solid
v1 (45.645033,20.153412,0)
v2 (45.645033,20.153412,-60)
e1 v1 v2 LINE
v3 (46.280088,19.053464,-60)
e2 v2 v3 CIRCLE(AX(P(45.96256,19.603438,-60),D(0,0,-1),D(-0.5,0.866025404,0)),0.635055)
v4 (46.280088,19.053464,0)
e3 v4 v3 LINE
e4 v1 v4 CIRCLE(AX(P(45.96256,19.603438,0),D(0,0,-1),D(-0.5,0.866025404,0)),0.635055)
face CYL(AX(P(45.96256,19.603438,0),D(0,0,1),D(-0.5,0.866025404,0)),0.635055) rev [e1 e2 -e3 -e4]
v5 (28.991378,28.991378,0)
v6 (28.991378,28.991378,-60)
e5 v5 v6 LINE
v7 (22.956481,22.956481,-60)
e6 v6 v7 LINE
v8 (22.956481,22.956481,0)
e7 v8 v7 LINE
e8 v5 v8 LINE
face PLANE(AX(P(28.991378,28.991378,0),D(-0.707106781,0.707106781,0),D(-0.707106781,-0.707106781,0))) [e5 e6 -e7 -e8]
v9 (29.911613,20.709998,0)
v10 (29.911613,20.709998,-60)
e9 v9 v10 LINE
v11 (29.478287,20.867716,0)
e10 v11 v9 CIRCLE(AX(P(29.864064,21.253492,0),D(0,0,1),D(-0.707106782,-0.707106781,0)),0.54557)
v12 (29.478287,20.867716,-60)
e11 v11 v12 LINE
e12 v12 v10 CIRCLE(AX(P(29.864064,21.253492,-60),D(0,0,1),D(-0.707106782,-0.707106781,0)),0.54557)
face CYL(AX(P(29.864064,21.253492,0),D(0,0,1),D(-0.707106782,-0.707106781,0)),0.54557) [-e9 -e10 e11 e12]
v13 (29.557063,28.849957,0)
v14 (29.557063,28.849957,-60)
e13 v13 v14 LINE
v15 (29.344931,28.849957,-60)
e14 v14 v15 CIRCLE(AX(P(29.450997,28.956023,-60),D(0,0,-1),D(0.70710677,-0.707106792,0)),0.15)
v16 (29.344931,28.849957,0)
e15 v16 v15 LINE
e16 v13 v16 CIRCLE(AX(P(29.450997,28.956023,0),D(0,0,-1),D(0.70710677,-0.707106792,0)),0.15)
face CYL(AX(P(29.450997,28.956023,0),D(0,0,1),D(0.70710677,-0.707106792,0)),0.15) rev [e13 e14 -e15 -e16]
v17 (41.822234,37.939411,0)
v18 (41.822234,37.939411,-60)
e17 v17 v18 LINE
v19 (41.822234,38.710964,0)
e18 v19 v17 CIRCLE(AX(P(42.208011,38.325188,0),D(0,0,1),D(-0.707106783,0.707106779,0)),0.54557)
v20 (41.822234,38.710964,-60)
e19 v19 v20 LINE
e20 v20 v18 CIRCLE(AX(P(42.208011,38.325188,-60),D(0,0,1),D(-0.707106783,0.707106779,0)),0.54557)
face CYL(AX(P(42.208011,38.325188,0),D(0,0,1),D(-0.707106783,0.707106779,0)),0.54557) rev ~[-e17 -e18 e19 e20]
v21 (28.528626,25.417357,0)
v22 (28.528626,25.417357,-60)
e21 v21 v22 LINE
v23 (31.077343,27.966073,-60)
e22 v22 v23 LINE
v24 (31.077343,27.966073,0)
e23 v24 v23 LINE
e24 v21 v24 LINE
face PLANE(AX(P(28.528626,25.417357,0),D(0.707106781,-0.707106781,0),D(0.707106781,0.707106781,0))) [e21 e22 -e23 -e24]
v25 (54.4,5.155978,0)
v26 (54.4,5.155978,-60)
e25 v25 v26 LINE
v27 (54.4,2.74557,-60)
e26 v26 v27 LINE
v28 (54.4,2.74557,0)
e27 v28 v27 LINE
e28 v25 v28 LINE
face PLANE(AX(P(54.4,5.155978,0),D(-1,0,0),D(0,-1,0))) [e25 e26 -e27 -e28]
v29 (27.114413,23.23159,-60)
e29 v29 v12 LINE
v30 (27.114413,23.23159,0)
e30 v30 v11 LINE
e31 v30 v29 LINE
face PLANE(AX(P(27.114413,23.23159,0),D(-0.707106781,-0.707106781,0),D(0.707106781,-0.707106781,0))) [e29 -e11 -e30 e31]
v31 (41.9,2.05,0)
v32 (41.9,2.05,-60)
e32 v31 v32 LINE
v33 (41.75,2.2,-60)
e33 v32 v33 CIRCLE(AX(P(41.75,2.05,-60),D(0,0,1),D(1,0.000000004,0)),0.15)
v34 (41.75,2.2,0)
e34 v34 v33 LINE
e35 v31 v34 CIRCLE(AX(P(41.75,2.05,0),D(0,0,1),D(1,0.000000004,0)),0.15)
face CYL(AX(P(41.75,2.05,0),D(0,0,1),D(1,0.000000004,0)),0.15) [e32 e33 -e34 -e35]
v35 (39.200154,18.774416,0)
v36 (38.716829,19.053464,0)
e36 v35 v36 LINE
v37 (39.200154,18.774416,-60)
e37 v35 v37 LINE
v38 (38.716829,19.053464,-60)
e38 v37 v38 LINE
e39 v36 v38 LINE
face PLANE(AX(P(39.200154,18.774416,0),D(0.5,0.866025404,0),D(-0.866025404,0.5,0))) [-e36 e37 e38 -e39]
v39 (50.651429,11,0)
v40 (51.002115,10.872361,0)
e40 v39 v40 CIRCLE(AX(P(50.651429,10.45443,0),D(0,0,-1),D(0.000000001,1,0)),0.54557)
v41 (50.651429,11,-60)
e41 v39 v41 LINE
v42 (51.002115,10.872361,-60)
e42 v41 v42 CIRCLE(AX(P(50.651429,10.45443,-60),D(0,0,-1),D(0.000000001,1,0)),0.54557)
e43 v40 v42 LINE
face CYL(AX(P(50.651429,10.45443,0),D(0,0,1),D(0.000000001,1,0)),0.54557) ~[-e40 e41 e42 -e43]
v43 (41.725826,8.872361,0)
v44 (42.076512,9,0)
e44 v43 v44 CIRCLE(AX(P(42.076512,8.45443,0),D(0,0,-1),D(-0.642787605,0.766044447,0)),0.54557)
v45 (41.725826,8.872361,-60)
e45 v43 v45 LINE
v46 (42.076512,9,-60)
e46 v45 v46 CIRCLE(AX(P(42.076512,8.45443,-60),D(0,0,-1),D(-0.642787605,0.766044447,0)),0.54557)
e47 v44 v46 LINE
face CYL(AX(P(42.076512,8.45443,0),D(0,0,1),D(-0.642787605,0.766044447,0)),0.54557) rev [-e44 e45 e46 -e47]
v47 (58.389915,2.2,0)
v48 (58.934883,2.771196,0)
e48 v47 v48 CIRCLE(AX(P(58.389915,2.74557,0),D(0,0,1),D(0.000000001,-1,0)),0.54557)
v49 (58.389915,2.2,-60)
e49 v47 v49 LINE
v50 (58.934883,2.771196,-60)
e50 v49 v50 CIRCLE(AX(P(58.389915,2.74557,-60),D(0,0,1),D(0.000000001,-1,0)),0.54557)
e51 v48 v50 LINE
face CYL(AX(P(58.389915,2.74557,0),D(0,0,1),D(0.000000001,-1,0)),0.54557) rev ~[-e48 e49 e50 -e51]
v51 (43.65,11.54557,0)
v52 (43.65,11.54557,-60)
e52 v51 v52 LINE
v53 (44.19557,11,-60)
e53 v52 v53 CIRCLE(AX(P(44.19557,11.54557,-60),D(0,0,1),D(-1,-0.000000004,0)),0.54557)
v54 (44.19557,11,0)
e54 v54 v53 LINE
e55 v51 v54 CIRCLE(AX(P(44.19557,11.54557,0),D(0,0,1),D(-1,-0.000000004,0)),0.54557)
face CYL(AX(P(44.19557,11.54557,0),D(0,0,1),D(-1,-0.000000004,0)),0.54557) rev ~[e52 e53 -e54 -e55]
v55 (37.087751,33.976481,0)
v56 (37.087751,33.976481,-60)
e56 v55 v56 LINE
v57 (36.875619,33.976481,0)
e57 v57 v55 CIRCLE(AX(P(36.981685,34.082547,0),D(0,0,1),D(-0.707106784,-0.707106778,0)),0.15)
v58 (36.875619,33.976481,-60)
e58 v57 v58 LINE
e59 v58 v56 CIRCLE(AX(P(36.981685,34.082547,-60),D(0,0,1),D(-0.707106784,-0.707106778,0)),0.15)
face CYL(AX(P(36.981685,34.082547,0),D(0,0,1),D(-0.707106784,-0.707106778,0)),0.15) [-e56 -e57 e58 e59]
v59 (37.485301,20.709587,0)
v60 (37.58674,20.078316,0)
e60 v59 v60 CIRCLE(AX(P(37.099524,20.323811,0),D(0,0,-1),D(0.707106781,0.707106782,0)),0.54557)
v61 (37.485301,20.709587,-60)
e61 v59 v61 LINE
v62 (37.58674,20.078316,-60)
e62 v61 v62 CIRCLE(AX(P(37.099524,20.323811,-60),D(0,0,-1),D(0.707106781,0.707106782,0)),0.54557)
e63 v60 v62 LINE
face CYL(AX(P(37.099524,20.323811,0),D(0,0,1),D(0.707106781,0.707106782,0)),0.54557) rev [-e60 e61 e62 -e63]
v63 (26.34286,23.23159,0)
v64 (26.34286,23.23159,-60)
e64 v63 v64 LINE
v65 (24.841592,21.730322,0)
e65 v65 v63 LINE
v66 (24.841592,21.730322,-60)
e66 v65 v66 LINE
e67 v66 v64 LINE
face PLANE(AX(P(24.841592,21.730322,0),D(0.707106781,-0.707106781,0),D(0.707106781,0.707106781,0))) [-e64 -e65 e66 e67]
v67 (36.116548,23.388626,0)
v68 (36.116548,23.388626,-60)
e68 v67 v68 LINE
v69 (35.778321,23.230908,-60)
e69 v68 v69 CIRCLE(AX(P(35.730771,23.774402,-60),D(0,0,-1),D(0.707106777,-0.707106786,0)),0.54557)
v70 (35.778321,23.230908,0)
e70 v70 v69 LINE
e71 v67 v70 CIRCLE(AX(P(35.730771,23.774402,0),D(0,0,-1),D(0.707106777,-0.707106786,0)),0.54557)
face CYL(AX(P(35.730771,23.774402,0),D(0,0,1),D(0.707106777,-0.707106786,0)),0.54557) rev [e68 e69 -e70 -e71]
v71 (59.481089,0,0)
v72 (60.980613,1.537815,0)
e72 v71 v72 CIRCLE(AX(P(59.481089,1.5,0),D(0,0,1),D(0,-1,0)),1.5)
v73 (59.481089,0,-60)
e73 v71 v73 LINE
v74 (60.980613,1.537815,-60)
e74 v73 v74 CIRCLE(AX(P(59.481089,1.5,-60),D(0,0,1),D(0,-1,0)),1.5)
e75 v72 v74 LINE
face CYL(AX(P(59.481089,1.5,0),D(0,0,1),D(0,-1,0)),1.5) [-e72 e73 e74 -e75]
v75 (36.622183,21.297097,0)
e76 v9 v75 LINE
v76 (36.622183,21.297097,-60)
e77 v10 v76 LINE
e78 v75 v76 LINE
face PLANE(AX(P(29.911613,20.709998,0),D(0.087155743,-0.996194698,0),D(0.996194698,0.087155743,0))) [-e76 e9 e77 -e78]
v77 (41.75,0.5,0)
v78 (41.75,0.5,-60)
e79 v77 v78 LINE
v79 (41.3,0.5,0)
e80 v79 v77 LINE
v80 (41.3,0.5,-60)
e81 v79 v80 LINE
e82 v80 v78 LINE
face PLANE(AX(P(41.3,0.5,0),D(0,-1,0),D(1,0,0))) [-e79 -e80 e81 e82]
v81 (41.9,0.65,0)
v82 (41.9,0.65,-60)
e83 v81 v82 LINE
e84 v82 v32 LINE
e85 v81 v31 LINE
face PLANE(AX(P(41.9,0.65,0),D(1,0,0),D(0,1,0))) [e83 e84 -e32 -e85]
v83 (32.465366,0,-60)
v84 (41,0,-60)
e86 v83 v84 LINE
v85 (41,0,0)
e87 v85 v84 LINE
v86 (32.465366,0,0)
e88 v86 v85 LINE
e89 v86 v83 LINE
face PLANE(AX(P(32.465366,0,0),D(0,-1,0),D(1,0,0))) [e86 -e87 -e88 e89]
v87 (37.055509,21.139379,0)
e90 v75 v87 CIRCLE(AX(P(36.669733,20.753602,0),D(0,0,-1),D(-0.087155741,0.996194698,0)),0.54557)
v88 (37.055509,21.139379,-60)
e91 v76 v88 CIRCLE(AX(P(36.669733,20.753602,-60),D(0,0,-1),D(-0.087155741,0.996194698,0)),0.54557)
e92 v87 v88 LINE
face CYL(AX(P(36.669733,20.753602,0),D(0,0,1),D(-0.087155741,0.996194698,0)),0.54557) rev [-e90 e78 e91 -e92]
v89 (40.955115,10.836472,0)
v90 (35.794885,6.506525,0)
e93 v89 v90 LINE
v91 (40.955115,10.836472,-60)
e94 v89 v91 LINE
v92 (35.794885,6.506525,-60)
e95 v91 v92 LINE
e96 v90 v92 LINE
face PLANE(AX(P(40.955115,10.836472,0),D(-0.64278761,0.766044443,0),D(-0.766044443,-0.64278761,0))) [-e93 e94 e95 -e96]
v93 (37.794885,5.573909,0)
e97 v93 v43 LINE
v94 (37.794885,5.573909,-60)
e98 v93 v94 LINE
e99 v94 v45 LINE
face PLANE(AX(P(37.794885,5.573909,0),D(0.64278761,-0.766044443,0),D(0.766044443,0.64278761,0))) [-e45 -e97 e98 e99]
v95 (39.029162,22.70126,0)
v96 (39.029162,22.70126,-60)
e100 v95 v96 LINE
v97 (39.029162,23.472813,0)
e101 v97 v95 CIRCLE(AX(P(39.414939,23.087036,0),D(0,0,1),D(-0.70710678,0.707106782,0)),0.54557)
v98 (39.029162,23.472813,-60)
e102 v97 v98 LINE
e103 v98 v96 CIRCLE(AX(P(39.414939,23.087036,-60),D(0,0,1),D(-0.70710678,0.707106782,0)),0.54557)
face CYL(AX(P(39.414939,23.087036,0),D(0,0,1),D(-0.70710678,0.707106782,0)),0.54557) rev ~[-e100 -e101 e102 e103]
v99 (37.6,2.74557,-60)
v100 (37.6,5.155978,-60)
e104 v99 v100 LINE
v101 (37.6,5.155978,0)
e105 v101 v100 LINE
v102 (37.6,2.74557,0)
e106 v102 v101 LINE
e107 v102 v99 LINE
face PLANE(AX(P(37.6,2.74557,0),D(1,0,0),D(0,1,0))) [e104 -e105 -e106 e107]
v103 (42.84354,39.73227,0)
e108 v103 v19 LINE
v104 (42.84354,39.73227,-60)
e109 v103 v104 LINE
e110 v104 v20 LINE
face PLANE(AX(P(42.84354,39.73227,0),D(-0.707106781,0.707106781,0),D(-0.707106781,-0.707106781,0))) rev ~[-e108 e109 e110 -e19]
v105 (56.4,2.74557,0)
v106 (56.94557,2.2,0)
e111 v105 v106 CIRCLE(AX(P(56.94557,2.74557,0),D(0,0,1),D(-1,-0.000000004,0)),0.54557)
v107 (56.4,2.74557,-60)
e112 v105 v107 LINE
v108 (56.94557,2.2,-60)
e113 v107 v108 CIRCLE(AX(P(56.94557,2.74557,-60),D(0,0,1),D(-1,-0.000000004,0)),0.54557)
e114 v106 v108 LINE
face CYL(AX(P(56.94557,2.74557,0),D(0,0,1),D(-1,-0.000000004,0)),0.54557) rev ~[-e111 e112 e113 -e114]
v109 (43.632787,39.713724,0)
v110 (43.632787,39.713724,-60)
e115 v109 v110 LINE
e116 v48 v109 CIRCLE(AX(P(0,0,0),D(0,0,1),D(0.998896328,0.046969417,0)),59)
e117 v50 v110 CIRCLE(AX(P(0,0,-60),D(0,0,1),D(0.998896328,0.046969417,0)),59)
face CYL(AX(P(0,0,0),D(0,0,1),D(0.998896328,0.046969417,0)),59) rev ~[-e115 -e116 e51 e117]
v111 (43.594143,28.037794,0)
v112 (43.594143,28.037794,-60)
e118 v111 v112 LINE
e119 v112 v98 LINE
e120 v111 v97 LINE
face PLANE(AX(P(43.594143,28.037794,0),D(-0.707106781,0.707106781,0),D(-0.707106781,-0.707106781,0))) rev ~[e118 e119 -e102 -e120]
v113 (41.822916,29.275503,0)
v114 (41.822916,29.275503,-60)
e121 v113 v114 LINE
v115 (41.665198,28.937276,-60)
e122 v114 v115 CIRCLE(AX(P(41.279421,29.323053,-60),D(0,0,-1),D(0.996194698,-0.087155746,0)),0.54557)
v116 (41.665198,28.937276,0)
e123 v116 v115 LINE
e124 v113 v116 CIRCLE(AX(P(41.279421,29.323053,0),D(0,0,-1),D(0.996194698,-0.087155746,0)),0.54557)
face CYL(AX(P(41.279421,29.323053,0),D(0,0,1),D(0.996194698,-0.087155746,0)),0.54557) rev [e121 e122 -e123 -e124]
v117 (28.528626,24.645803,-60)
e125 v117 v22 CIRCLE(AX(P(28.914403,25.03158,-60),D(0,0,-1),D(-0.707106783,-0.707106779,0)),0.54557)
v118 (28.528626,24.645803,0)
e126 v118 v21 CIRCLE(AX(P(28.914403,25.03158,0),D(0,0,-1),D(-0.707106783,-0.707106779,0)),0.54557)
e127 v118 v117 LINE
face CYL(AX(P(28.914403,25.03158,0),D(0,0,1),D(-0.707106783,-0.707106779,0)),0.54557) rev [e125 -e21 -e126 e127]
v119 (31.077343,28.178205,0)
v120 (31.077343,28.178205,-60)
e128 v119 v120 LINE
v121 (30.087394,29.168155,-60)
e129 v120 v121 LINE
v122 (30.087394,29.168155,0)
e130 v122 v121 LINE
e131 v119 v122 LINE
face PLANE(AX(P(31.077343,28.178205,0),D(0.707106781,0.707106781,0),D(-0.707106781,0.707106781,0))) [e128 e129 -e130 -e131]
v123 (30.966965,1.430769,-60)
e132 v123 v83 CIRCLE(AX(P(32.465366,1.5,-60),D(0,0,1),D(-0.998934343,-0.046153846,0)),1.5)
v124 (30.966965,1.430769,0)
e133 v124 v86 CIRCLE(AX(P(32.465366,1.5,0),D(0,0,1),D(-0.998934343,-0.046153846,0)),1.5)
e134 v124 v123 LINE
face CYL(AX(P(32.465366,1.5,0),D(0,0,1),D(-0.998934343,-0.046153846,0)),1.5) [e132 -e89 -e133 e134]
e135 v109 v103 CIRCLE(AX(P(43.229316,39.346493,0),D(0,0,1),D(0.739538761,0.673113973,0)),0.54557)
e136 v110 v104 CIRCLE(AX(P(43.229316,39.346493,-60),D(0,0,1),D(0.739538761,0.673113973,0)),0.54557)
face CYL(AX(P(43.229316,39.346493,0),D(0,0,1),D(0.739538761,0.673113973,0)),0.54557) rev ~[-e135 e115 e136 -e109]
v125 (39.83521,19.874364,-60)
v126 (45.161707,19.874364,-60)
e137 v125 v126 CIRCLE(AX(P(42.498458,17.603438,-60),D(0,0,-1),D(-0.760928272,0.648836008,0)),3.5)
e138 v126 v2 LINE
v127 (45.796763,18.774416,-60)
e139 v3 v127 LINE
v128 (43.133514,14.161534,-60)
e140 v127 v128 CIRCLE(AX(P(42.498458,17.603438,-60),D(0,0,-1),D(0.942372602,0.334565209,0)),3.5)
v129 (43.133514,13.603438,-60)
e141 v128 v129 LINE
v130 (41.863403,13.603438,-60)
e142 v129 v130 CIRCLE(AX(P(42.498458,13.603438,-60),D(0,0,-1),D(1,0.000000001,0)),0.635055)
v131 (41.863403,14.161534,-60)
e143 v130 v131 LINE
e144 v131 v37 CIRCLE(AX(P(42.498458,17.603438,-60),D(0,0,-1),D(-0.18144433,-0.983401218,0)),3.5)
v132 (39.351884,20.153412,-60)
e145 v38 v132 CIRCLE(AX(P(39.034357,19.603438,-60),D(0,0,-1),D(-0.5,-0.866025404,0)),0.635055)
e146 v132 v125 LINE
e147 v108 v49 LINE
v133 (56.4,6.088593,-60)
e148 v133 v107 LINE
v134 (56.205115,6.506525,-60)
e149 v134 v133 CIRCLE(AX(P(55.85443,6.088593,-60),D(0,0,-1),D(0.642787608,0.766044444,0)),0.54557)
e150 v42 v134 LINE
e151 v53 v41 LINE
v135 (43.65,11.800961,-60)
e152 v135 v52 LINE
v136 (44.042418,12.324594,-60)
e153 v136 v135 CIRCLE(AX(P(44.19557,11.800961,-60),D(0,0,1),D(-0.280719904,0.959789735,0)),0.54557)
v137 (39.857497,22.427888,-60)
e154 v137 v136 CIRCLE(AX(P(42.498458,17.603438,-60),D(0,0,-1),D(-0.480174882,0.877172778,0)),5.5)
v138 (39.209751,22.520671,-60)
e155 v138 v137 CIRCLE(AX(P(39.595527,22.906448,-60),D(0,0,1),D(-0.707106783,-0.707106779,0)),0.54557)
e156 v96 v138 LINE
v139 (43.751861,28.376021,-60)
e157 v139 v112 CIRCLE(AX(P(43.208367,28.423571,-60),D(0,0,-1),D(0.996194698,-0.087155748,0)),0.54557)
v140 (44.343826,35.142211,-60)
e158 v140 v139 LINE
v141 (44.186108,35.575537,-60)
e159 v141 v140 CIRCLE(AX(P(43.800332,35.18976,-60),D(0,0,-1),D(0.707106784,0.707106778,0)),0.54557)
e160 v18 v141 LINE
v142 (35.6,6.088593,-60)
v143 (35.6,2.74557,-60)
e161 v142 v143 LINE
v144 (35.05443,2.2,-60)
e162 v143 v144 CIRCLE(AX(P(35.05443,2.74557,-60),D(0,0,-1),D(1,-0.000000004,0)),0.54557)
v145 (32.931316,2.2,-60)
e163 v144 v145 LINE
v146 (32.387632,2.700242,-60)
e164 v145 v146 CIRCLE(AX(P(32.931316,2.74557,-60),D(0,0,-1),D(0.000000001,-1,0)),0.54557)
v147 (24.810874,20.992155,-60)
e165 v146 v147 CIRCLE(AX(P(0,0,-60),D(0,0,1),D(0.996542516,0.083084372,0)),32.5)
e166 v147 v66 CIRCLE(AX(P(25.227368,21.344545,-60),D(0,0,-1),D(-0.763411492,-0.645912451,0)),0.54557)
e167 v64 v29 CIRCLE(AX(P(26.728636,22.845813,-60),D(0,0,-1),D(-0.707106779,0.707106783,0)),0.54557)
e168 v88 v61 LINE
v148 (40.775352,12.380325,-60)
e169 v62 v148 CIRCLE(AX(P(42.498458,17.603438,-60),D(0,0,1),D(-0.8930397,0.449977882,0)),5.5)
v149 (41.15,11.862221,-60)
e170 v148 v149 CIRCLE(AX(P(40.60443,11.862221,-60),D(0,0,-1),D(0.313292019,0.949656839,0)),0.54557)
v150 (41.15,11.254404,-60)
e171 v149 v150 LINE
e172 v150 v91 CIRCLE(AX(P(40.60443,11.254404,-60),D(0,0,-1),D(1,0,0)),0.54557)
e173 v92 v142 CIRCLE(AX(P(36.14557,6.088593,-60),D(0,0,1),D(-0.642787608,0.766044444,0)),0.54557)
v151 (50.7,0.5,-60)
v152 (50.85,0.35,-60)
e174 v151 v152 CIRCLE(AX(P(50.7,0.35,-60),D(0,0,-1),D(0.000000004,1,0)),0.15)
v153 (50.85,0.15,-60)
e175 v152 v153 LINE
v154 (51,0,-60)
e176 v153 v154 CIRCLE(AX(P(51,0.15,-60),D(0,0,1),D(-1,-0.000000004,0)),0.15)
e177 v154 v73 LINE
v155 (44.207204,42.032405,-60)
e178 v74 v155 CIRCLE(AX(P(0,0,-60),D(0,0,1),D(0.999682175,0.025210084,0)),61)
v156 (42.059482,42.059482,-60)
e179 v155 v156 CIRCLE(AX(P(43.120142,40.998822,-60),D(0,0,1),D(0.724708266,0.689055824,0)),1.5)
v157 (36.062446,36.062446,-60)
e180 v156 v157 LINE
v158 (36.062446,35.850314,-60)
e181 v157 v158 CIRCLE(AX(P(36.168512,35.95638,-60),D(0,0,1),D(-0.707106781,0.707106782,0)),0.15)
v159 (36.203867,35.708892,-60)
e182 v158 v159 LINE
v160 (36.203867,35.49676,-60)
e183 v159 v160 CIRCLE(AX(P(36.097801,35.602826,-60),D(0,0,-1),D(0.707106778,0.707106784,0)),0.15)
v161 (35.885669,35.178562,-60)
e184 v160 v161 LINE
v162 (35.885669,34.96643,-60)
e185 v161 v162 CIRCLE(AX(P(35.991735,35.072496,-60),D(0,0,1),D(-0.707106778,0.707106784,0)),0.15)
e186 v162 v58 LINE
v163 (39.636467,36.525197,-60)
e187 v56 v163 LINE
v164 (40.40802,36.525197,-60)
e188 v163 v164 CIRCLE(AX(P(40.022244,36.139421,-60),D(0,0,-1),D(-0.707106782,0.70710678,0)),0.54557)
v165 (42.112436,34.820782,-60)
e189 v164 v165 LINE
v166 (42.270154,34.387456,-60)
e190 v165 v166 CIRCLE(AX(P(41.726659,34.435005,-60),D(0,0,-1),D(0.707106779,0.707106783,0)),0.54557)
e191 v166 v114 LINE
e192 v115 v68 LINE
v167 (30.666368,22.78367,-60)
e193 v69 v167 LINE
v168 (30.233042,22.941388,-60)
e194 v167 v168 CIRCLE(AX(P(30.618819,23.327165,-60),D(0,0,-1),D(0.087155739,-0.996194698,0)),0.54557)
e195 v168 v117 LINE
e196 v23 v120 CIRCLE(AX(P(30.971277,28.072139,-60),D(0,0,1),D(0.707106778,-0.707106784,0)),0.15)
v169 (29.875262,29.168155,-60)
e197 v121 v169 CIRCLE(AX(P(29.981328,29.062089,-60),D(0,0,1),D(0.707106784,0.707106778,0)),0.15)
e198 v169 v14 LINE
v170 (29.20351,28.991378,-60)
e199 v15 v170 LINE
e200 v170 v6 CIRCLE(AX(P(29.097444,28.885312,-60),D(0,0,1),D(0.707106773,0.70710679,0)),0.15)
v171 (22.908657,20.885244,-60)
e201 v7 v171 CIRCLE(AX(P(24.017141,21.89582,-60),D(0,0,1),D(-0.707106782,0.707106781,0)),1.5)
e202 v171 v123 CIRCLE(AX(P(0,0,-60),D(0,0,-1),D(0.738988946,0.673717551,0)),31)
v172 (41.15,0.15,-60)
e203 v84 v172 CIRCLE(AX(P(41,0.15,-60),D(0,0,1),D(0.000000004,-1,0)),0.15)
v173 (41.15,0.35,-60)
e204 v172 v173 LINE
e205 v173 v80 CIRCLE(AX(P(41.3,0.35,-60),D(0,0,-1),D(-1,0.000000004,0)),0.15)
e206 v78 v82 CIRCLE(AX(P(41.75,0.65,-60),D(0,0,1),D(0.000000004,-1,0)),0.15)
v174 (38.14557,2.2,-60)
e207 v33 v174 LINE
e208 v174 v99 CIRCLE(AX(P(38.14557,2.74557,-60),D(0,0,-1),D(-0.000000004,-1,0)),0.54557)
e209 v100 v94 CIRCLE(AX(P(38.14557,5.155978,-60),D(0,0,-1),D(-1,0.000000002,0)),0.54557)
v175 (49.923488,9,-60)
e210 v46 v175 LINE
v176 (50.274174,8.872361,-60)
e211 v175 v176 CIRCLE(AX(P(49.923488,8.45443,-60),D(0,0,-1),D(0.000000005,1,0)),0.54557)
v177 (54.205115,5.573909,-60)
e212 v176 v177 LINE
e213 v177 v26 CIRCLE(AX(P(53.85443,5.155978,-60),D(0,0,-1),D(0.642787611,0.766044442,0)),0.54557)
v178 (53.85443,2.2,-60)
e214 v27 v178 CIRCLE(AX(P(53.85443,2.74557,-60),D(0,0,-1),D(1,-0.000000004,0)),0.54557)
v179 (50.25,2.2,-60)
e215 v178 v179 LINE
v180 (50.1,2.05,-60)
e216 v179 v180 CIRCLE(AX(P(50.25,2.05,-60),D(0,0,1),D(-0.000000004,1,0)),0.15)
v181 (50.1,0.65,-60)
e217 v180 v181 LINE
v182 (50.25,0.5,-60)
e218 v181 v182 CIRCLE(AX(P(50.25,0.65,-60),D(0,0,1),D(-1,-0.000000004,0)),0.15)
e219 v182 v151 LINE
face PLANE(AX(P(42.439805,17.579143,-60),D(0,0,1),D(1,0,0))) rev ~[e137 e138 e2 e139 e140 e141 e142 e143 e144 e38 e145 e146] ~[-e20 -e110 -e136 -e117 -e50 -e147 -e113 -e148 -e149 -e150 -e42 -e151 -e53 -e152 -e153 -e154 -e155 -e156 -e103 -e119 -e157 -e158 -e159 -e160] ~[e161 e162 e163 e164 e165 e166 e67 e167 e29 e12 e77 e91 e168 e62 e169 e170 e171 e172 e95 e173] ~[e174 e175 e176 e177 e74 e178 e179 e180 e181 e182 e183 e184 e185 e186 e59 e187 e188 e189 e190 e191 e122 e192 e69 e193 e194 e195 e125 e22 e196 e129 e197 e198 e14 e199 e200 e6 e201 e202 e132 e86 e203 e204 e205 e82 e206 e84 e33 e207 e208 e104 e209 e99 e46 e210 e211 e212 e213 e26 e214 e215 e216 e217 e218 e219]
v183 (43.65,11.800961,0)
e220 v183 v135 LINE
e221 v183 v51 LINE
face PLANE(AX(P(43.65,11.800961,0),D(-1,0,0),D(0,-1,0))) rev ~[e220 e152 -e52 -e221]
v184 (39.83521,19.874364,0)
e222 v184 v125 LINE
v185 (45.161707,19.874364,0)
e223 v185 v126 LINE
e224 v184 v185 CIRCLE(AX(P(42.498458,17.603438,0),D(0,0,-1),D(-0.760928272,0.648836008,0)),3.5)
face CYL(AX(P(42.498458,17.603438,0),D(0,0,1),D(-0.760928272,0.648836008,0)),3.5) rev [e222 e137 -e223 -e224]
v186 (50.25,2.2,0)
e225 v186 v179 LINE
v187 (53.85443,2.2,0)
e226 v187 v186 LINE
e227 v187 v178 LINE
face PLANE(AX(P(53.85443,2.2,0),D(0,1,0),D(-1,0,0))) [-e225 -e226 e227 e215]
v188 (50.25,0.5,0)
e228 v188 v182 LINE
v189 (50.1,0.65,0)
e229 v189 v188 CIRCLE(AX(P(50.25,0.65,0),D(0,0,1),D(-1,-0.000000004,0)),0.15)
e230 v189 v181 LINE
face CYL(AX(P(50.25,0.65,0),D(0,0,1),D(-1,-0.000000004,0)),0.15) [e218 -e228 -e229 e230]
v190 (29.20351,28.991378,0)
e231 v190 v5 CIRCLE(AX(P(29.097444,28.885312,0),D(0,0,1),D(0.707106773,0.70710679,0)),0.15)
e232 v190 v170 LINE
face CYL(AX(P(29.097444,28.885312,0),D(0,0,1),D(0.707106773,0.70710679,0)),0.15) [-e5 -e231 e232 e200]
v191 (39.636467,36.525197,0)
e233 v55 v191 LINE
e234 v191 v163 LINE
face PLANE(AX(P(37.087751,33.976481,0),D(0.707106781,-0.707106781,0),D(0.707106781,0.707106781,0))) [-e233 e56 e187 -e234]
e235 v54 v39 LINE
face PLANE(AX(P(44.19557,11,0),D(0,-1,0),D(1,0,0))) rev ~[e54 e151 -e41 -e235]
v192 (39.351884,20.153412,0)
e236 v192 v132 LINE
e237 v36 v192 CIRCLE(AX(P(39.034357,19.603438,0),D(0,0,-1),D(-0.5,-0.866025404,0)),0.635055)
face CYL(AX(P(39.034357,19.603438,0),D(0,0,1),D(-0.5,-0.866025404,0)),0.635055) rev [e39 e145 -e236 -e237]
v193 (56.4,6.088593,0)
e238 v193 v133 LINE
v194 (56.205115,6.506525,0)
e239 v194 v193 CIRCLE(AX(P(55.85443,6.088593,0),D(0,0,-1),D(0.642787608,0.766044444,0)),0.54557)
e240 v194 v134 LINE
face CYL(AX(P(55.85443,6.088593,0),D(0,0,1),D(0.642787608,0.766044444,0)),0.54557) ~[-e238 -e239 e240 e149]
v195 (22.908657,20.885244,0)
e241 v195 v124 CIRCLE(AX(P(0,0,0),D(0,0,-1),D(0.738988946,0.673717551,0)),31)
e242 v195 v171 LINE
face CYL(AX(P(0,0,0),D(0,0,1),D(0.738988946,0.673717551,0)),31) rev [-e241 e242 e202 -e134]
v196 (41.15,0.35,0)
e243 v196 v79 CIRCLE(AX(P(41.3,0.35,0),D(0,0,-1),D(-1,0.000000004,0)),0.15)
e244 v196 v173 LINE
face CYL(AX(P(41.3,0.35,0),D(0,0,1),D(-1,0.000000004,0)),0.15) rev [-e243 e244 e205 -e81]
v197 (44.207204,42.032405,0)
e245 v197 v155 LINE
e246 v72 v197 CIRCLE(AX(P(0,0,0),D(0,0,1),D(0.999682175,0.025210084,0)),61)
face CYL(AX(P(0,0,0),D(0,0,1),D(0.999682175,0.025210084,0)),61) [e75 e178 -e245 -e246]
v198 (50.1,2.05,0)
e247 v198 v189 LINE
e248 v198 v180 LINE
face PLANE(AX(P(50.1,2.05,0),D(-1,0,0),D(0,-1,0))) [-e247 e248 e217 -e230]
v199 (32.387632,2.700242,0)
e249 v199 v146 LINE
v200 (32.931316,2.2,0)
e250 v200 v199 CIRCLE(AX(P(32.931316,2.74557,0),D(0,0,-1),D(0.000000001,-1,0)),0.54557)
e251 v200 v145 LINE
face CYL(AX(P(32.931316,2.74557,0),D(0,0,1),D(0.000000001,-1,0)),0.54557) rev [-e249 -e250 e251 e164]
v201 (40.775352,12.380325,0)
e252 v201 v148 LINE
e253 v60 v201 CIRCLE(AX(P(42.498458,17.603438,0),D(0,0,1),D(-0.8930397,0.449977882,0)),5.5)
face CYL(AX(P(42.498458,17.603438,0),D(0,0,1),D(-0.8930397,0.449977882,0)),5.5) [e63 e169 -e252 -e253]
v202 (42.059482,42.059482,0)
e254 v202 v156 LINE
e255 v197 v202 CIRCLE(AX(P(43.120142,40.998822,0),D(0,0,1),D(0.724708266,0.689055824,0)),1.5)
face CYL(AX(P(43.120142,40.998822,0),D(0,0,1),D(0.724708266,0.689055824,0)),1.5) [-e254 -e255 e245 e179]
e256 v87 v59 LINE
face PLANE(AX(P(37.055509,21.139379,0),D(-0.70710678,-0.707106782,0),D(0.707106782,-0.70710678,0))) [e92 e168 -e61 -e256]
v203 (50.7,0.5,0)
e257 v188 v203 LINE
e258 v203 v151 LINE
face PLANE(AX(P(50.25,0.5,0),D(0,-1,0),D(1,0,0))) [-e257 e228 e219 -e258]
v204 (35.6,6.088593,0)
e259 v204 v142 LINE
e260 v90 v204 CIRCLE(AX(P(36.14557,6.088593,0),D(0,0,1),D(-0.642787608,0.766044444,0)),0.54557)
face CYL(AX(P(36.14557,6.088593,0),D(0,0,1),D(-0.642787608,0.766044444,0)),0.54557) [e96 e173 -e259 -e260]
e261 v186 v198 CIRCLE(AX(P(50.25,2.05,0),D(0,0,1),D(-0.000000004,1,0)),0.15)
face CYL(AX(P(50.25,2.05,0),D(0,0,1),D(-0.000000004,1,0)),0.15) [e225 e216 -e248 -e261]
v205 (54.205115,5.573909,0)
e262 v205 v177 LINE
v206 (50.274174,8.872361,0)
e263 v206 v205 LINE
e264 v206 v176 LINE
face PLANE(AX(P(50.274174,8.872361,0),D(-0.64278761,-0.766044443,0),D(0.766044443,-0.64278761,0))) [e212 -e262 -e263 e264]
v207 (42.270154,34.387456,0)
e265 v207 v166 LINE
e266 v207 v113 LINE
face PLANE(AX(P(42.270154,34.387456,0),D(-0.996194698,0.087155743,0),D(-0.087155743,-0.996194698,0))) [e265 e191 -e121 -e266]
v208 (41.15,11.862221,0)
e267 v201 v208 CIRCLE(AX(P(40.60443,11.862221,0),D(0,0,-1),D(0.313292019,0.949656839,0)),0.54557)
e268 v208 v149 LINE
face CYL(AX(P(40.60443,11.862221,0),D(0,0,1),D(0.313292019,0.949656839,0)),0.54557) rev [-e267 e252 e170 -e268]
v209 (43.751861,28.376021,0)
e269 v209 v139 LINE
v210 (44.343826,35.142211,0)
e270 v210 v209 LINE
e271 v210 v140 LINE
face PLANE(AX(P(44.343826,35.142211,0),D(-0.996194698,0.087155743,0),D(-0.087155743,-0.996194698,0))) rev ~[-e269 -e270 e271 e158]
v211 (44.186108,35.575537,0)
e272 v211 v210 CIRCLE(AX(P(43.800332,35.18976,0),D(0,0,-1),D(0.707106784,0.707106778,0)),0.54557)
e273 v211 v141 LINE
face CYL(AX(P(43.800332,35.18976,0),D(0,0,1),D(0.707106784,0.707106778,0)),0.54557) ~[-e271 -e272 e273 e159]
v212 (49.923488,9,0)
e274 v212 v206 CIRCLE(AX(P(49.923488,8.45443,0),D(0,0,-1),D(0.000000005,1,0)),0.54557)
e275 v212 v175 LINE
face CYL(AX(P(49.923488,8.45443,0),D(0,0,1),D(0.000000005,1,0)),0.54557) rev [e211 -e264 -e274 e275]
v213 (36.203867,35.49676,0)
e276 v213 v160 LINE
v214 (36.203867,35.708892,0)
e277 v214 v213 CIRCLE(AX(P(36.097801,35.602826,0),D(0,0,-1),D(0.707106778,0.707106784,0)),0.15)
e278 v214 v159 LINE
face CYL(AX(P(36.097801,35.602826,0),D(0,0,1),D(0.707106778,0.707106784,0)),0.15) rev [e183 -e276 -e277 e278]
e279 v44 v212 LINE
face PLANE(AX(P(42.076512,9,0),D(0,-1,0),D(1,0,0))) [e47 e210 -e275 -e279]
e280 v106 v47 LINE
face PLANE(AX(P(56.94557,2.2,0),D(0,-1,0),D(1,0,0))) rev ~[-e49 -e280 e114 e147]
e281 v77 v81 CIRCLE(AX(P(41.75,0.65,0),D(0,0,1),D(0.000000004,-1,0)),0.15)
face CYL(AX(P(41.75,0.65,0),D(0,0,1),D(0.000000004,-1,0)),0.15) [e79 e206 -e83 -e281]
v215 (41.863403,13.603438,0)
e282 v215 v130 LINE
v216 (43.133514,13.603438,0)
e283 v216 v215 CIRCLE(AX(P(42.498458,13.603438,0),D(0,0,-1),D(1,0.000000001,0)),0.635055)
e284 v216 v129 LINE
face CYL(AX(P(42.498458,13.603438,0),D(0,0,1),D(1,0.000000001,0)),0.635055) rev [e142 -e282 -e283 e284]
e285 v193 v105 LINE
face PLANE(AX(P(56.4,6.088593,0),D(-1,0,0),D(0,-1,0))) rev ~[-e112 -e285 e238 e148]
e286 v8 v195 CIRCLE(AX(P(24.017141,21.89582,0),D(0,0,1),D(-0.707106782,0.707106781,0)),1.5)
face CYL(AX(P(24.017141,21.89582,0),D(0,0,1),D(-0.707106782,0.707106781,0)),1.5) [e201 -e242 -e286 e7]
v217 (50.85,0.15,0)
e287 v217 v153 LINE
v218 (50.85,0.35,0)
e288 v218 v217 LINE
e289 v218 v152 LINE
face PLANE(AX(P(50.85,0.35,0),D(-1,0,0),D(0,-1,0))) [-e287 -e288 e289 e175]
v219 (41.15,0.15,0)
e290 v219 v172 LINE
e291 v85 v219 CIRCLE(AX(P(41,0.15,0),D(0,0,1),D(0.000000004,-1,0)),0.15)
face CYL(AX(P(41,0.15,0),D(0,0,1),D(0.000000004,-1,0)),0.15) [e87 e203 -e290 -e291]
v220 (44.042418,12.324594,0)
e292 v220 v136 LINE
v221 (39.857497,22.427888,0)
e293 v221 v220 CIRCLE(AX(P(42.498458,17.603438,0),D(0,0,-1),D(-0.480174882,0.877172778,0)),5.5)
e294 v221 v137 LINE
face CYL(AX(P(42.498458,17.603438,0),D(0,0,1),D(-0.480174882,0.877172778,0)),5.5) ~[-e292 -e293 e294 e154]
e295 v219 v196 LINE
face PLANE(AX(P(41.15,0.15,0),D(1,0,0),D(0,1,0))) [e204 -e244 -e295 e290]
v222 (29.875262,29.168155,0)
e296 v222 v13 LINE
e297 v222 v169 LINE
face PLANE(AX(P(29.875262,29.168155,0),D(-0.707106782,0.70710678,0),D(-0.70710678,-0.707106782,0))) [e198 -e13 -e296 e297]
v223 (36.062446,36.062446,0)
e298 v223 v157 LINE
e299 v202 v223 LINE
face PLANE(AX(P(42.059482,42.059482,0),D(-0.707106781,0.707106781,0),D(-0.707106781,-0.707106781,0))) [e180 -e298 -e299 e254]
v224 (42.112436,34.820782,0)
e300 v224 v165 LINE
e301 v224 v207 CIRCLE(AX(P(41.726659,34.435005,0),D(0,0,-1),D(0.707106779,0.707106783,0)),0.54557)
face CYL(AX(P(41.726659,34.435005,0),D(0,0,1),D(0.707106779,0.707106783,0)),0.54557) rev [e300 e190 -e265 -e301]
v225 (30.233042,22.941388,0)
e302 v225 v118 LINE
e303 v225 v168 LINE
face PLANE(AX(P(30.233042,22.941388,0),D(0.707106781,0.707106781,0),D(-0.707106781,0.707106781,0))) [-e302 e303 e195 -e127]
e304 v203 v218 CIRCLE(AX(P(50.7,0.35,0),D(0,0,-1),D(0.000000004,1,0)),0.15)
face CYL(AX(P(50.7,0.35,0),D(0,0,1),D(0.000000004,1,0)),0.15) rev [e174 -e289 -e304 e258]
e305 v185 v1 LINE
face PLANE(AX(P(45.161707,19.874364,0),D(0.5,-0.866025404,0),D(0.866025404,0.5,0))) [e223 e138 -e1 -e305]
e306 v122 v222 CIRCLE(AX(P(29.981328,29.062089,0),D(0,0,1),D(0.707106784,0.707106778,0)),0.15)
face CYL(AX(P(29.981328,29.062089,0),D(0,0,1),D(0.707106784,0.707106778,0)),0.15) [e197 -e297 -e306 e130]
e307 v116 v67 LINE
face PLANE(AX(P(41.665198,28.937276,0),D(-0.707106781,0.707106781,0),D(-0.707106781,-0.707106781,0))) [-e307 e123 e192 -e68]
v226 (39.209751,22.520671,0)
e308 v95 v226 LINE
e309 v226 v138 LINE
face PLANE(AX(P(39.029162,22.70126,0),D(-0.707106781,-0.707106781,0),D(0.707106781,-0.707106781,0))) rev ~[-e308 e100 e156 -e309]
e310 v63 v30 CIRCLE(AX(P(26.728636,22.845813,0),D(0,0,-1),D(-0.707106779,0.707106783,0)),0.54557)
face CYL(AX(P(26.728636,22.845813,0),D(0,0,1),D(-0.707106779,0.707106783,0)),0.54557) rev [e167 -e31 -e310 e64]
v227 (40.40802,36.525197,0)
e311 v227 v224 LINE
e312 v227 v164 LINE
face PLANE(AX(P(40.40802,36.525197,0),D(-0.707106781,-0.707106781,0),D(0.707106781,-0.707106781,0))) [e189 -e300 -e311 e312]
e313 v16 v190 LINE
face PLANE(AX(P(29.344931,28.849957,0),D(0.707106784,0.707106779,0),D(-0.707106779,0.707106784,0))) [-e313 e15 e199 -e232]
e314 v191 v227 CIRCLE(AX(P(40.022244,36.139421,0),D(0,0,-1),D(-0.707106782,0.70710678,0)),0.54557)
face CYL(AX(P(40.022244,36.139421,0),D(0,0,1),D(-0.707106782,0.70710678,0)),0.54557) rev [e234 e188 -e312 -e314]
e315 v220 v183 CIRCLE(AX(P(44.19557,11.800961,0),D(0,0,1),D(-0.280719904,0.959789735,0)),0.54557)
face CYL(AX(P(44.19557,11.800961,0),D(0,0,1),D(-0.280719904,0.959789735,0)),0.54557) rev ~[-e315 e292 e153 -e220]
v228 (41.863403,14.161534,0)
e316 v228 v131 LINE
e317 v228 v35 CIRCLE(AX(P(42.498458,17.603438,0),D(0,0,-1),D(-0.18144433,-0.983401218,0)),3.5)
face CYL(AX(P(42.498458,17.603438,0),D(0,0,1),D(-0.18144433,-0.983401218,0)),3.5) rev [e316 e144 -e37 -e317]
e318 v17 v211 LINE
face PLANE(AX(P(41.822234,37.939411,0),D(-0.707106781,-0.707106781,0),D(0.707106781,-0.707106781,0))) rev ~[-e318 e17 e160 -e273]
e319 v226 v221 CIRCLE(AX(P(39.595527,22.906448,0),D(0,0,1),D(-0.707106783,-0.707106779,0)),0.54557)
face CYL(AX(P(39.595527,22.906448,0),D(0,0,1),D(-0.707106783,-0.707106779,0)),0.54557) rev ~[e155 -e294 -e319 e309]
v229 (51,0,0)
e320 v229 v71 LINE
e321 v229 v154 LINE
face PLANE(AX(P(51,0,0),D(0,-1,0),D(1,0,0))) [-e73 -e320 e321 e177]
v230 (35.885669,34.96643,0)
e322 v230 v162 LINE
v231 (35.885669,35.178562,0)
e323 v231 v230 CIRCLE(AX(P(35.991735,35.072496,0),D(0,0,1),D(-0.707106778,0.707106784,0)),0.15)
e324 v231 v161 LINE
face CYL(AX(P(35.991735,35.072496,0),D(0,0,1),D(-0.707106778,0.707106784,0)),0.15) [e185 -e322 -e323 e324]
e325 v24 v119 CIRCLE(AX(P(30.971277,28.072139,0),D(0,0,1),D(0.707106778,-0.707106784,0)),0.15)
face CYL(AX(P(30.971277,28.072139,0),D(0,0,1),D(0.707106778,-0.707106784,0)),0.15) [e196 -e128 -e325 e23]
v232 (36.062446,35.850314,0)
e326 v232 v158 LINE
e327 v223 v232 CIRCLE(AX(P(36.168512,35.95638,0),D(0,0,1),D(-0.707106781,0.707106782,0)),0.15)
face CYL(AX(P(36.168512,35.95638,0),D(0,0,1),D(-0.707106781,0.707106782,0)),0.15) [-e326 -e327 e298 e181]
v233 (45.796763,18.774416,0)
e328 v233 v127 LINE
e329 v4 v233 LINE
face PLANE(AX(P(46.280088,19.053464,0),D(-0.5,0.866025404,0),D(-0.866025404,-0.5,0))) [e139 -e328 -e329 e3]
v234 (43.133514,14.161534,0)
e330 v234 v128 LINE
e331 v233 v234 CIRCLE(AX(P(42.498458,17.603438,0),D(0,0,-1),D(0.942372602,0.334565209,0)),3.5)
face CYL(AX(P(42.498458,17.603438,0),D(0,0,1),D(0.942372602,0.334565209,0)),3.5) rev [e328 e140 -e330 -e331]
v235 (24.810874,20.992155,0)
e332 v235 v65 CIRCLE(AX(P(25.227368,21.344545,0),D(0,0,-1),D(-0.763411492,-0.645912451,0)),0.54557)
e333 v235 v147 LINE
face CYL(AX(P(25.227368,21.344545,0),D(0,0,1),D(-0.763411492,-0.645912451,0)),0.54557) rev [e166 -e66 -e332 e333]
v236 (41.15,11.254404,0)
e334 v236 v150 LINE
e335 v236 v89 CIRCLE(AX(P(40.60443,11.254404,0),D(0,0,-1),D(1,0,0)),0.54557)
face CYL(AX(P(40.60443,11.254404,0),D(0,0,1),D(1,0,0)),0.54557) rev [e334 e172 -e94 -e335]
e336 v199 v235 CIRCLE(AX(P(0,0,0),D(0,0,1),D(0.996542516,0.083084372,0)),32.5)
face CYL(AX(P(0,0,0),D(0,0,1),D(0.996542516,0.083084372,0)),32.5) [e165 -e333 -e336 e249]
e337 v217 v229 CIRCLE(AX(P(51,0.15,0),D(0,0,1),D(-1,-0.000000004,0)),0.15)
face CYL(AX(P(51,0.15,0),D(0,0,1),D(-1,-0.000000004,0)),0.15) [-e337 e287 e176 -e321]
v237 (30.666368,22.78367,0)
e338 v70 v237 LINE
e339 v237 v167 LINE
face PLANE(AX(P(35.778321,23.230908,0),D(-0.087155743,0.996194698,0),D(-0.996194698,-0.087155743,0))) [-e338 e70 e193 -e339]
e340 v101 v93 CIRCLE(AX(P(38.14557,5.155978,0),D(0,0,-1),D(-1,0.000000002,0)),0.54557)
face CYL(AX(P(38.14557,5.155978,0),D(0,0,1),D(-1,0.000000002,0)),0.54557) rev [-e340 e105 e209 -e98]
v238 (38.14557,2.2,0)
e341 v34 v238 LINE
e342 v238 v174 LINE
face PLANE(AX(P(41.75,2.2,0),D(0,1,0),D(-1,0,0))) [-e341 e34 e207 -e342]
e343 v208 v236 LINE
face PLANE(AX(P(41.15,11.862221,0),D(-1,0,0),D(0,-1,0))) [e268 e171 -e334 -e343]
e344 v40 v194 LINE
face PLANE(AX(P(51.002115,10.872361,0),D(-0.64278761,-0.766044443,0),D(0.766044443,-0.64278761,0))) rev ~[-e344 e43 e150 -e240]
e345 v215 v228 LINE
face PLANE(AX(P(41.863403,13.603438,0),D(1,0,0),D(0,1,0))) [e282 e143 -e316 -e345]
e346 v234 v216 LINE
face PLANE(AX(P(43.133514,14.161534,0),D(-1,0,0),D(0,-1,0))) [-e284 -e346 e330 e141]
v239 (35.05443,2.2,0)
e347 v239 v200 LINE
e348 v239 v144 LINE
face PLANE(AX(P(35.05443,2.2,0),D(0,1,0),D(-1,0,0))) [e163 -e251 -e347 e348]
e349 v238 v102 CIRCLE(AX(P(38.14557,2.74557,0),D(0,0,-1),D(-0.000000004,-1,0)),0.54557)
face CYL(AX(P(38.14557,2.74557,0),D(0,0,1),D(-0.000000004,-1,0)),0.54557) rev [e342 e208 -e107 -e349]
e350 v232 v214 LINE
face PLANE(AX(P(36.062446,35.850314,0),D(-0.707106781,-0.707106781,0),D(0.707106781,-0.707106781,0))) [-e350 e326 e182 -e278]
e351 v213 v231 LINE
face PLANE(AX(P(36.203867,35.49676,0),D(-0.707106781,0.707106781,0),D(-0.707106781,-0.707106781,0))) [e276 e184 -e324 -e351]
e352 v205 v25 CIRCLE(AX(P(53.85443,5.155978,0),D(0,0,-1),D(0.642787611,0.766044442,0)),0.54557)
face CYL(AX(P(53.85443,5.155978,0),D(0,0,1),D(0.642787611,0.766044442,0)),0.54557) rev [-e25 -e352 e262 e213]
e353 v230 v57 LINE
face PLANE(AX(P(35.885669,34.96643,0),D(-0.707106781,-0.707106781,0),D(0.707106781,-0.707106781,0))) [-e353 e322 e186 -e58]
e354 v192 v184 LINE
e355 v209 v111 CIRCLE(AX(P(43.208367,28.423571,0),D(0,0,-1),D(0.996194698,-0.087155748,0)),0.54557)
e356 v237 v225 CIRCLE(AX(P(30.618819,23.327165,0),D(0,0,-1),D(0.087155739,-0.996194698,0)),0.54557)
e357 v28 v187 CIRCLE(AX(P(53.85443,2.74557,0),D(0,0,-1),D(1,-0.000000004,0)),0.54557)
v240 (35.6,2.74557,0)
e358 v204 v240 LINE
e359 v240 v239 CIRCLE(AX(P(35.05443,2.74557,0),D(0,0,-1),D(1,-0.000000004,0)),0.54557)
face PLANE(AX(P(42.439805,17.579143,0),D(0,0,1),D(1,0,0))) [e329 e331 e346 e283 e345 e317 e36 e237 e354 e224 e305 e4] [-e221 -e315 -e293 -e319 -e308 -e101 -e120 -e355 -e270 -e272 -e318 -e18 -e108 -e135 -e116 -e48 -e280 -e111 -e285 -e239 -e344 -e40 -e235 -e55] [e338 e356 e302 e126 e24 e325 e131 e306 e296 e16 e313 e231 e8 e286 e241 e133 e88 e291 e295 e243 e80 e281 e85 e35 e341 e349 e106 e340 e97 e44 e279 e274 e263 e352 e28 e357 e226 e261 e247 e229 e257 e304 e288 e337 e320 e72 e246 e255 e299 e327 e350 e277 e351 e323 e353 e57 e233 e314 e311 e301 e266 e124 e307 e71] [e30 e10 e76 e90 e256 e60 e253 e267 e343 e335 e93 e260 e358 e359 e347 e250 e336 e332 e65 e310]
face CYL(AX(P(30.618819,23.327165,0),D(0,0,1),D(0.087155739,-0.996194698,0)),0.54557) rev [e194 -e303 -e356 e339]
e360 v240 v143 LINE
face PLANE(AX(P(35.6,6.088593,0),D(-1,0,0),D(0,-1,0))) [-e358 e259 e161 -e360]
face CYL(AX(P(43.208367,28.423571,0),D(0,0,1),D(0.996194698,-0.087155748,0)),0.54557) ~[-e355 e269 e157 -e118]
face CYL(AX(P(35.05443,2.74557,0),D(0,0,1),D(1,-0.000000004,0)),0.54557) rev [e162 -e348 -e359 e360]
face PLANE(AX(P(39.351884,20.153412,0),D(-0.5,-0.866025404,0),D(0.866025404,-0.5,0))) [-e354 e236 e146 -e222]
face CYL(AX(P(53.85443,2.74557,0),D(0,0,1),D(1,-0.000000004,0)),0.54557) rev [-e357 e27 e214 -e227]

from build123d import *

# Parameters (mm, degrees)
Y_KSEKLIK_EKSTR_ZYON1_DEPTH = 60


with BuildPart() as part:
    # Çizim3 → Yükseklik-Ekstrüzyon1 (new body)
    with BuildSketch(Plane.XY):
        with BuildLine():
            Line((51, 0), (59.481089432, 0))
            ThreePointArc((59.481089432, 0), (60.555036053, 0.452794836), (60.980612695, 1.537815126))
            ThreePointArc((60.980612695, 1.537815126), (56.356651483, 23.343689374), (44.207204261, 42.032405254))
            ThreePointArc((44.207204261, 42.032405254), (43.139050927, 42.498702329), (42.05948169, 42.05948169))
            Line((42.05948169, 42.05948169), (36.062445841, 36.062445841))
            ThreePointArc((36.062445841, 36.062445841), (36.018511858, 35.956379823), (36.062445841, 35.850313806))
            Line((36.062445841, 35.850313806), (36.203867197, 35.70889245))
            ThreePointArc((36.203867197, 35.70889245), (36.24780118, 35.602826433), (36.203867197, 35.496760416))
            Line((36.203867197, 35.496760416), (35.885669145, 35.178562364))
            ThreePointArc((35.885669145, 35.178562364), (35.841735162, 35.072496347), (35.885669145, 34.96643033))
            Line((35.885669145, 34.96643033), (36.875618639, 33.976480836))
            ThreePointArc((36.875618639, 33.976480836), (36.981684656, 33.932546853), (37.087750673, 33.976480836))
            Line((37.087750673, 33.976480836), (39.636467242, 36.525197405))
            ThreePointArc((39.636467242, 36.525197405), (40.022243815, 36.684991294), (40.408020388, 36.525197405))
            Line((40.408020388, 36.525197405), (42.112435937, 34.820781856))
            ThreePointArc((42.112435937, 34.820781856), (42.239327901, 34.621601371), (42.270153765, 34.387455685))
            Line((42.270153765, 34.387455685), (41.822915851, 29.275502936))
            ThreePointArc((41.822915851, 29.275502936), (41.773876207, 29.092484494), (41.665198023, 28.937275961))
            Line((41.665198023, 28.937275961), (36.116547908, 23.388625846))
            ThreePointArc((36.116547908, 23.388625846), (35.961339375, 23.279947662), (35.778320934, 23.230908018))
            Line((35.778320934, 23.230908018), (30.666368185, 22.783670104))
            ThreePointArc((30.666368185, 22.783670104), (30.432222498, 22.814495969), (30.233042013, 22.941387932))
            Line((30.233042013, 22.941387932), (28.528626464, 24.645803481))
            ThreePointArc((28.528626464, 24.645803481), (28.368832576, 25.031580054), (28.528626464, 25.417356627))
            Line((28.528626464, 25.417356627), (31.077343033, 27.966073196))
            ThreePointArc((31.077343033, 27.966073196), (31.121277016, 28.072139213), (31.077343033, 28.17820523))
            Line((31.077343033, 28.17820523), (30.087393539, 29.168154724))
            ThreePointArc((30.087393539, 29.168154724), (29.981327522, 29.212088707), (29.875261505, 29.168154724))
            Line((29.875261505, 29.168154724), (29.557063454, 28.849956672))
            ThreePointArc((29.557063454, 28.849956672), (29.450997436, 28.80602269), (29.344931419, 28.849956672))
            Line((29.344931419, 28.849956672), (29.203510063, 28.991378029))
            ThreePointArc((29.203510063, 28.991378029), (29.097444046, 29.035312011), (28.991378029, 28.991378029))
            Line((28.991378029, 28.991378029), (22.956480566, 22.956480566))
            ThreePointArc((22.956480566, 22.956480566), (22.517540413, 21.930445005), (22.90865732, 20.885244069))
            ThreePointArc((22.90865732, 20.885244069), (28.640265508, 11.863186403), (30.966964646, 1.430769231))
            ThreePointArc((30.966964646, 1.430769231), (31.429471899, 0.415139144), (32.465366161, 0))
            Line((32.465366161, 0), (41, 0))
            ThreePointArc((41, 0), (41.106066017, 0.043933983), (41.15, 0.15))
            Line((41.15, 0.15), (41.15, 0.35))
            ThreePointArc((41.15, 0.35), (41.193933983, 0.456066017), (41.3, 0.5))
            Line((41.3, 0.5), (41.75, 0.5))
            ThreePointArc((41.75, 0.5), (41.856066017, 0.543933983), (41.9, 0.65))
            Line((41.9, 0.65), (41.9, 2.05))
            ThreePointArc((41.9, 2.05), (41.856066017, 2.156066017), (41.75, 2.2))
            Line((41.75, 2.2), (38.145570461, 2.2))
            ThreePointArc((38.145570461, 2.2), (37.759793889, 2.359793889), (37.6, 2.745570461))
            Line((37.6, 2.745570461), (37.6, 5.155978046))
            ThreePointArc((37.6, 5.155978046), (37.651115704, 5.386546086), (37.794884529, 5.573909267))
            Line((37.794884529, 5.573909267), (41.725825944, 8.872360759))
            ThreePointArc((41.725825944, 8.872360759), (41.88991579, 8.967098075), (42.076511877, 9))
            Line((42.076511877, 9), (49.923488123, 9))
            ThreePointArc((49.923488123, 9), (50.11008421, 8.967098075), (50.274174056, 8.872360759))
            Line((50.274174056, 8.872360759), (54.205115471, 5.573909267))
            ThreePointArc((54.205115471, 5.573909267), (54.348884296, 5.386546086), (54.4, 5.155978046))
            Line((54.4, 5.155978046), (54.4, 2.745570461))
            ThreePointArc((54.4, 2.745570461), (54.240206111, 2.359793889), (53.854429539, 2.2))
            Line((53.854429539, 2.2), (50.25, 2.2))
            ThreePointArc((50.25, 2.2), (50.143933983, 2.156066017), (50.1, 2.05))
            Line((50.1, 2.05), (50.1, 0.65))
            ThreePointArc((50.1, 0.65), (50.143933983, 0.543933983), (50.25, 0.5))
            Line((50.25, 0.5), (50.7, 0.5))
            ThreePointArc((50.7, 0.5), (50.806066017, 0.456066017), (50.85, 0.35))
            Line((50.85, 0.35), (50.85, 0.15))
            ThreePointArc((50.85, 0.15), (50.893933983, 0.043933983), (51, 0))
        make_face()
        with BuildLine():
            Line((56.945570461, 2.2), (58.389915016, 2.2))
            ThreePointArc((58.389915016, 2.2), (58.784647482, 2.368962697), (58.934883346, 2.771195588))
            ThreePointArc((58.934883346, 2.771195588), (54.508892418, 22.57832251), (43.632786855, 39.71372447))
            ThreePointArc((43.632786855, 39.71372447), (43.242132452, 39.891913277), (42.843539779, 39.732269942))
            Line((42.843539779, 39.732269942), (41.82223395, 38.710964113))
            ThreePointArc((41.82223395, 38.710964113), (41.662440062, 38.32518754), (41.82223395, 37.939410967))
            Line((41.82223395, 37.939410967), (44.186108114, 35.575536804))
            ThreePointArc((44.186108114, 35.575536804), (44.313000077, 35.376356319), (44.343825942, 35.142210633))
            Line((44.343825942, 35.142210633), (43.751861055, 28.376021015))
            ThreePointArc((43.751861055, 28.376021015), (43.702821411, 28.193002574), (43.594143227, 28.037794041))
            Line((43.594143227, 28.037794041), (39.029162165, 23.472812979))
            ThreePointArc((39.029162165, 23.472812979), (38.869368276, 23.087036406), (39.029162165, 22.701259833))
            Line((39.029162165, 22.701259833), (39.209750843, 22.520671155))
            ThreePointArc((39.209750843, 22.520671155), (39.518169578, 22.366389496), (39.857496647, 22.42788817))
            ThreePointArc((39.857496647, 22.42788817), (47.579795924, 19.708196767), (44.042417973, 12.324594348))
            ThreePointArc((44.042417973, 12.324594348), (43.758991372, 12.128140006), (43.65, 11.800961419))
            Line((43.65, 11.800961419), (43.65, 11.545570461))
            ThreePointArc((43.65, 11.545570461), (43.809793889, 11.159793889), (44.195570461, 11))
            Line((44.195570461, 11), (50.651428591, 11))
            ThreePointArc((50.651428591, 11), (50.838024679, 10.967098075), (51.002114524, 10.872360759))
            Line((51.002114524, 10.872360759), (56.205115471, 6.506524583))
            ThreePointArc((56.205115471, 6.506524583), (56.348884296, 6.319161403), (56.4, 6.088593363))
            Line((56.4, 6.088593363), (56.4, 2.745570461))
            ThreePointArc((56.4, 2.745570461), (56.559793889, 2.359793889), (56.945570461, 2.2))
        make_face(mode=Mode.SUBTRACT)
        with BuildLine():
            Line((35.054429539, 2.2), (32.931315946, 2.2))
            ThreePointArc((32.931315946, 2.2), (32.561912844, 2.344087614), (32.387631786, 2.700242082))
            ThreePointArc((32.387631786, 2.700242082), (30.026084807, 12.437211552), (24.81087355, 20.992154575))
            ThreePointArc((24.81087355, 20.992154575), (24.682269628, 21.367229133), (24.841591738, 21.730321901))
            Line((24.841591738, 21.730321901), (26.342859756, 23.231589919))
            ThreePointArc((26.342859756, 23.231589919), (26.728636329, 23.391383807), (27.114412902, 23.231589919))
            Line((27.114412902, 23.231589919), (29.478287065, 20.867715756))
            ThreePointArc((29.478287065, 20.867715756), (29.67746755, 20.740823792), (29.911613237, 20.709997927))
            Line((29.911613237, 20.709997927), (36.622183037, 21.297096711))
            ThreePointArc((36.622183037, 21.297096711), (36.856328724, 21.266270846), (37.055509209, 21.139378882))
            Line((37.055509209, 21.139378882), (37.485300638, 20.709587454))
            ThreePointArc((37.485300638, 20.709587454), (37.638184329, 20.410368657), (37.586740146, 20.07831624))
            ThreePointArc((37.586740146, 20.07831624), (37.417121067, 15.498679011), (40.775352408, 12.380325272))
            ThreePointArc((40.775352408, 12.380325272), (41.046525454, 12.181905286), (41.15, 11.862220551))
            Line((41.15, 11.862220551), (41.15, 11.254403684))
            ThreePointArc((41.15, 11.254403684), (41.098884296, 11.023835644), (40.955115471, 10.836472464))
            Line((40.955115471, 10.836472464), (35.794884529, 6.506524583))
            ThreePointArc((35.794884529, 6.506524583), (35.651115704, 6.319161403), (35.6, 6.088593363))
            Line((35.6, 6.088593363), (35.6, 2.745570461))
            ThreePointArc((35.6, 2.745570461), (35.440206111, 2.359793889), (35.054429539, 2.2))
        make_face(mode=Mode.SUBTRACT)
        with BuildLine():
            Line((45.161707445, 19.874363918), (45.645032532, 20.153411787))
            ThreePointArc((45.645032532, 20.153411787), (46.512534009, 19.920965467), (46.280087689, 19.05346399))
            Line((46.280087689, 19.05346399), (45.796762602, 18.774416121))
            ThreePointArc((45.796762602, 18.774416121), (45.529547409, 15.853437889), (43.133513652, 14.161533627))
            Line((43.133513652, 14.161533627), (43.133513652, 13.603437889))
            ThreePointArc((43.133513652, 13.603437889), (42.498458496, 12.968382732), (41.863403339, 13.603437889))
            Line((41.863403339, 13.603437889), (41.863403339, 14.161533627))
            ThreePointArc((41.863403339, 14.161533627), (39.467369582, 15.853437889), (39.200154389, 18.774416121))
            Line((39.200154389, 18.774416121), (38.716829302, 19.05346399))
            ThreePointArc((38.716829302, 19.05346399), (38.484382982, 19.920965467), (39.351884459, 20.153411787))
            Line((39.351884459, 20.153411787), (39.835209546, 19.874363918))
            ThreePointArc((39.835209546, 19.874363918), (42.498458496, 21.103437889), (45.161707445, 19.874363918))
        make_face(mode=Mode.SUBTRACT)
    extrude(amount=-Y_KSEKLIK_EKSTR_ZYON1_DEPTH)


solid = part.part
